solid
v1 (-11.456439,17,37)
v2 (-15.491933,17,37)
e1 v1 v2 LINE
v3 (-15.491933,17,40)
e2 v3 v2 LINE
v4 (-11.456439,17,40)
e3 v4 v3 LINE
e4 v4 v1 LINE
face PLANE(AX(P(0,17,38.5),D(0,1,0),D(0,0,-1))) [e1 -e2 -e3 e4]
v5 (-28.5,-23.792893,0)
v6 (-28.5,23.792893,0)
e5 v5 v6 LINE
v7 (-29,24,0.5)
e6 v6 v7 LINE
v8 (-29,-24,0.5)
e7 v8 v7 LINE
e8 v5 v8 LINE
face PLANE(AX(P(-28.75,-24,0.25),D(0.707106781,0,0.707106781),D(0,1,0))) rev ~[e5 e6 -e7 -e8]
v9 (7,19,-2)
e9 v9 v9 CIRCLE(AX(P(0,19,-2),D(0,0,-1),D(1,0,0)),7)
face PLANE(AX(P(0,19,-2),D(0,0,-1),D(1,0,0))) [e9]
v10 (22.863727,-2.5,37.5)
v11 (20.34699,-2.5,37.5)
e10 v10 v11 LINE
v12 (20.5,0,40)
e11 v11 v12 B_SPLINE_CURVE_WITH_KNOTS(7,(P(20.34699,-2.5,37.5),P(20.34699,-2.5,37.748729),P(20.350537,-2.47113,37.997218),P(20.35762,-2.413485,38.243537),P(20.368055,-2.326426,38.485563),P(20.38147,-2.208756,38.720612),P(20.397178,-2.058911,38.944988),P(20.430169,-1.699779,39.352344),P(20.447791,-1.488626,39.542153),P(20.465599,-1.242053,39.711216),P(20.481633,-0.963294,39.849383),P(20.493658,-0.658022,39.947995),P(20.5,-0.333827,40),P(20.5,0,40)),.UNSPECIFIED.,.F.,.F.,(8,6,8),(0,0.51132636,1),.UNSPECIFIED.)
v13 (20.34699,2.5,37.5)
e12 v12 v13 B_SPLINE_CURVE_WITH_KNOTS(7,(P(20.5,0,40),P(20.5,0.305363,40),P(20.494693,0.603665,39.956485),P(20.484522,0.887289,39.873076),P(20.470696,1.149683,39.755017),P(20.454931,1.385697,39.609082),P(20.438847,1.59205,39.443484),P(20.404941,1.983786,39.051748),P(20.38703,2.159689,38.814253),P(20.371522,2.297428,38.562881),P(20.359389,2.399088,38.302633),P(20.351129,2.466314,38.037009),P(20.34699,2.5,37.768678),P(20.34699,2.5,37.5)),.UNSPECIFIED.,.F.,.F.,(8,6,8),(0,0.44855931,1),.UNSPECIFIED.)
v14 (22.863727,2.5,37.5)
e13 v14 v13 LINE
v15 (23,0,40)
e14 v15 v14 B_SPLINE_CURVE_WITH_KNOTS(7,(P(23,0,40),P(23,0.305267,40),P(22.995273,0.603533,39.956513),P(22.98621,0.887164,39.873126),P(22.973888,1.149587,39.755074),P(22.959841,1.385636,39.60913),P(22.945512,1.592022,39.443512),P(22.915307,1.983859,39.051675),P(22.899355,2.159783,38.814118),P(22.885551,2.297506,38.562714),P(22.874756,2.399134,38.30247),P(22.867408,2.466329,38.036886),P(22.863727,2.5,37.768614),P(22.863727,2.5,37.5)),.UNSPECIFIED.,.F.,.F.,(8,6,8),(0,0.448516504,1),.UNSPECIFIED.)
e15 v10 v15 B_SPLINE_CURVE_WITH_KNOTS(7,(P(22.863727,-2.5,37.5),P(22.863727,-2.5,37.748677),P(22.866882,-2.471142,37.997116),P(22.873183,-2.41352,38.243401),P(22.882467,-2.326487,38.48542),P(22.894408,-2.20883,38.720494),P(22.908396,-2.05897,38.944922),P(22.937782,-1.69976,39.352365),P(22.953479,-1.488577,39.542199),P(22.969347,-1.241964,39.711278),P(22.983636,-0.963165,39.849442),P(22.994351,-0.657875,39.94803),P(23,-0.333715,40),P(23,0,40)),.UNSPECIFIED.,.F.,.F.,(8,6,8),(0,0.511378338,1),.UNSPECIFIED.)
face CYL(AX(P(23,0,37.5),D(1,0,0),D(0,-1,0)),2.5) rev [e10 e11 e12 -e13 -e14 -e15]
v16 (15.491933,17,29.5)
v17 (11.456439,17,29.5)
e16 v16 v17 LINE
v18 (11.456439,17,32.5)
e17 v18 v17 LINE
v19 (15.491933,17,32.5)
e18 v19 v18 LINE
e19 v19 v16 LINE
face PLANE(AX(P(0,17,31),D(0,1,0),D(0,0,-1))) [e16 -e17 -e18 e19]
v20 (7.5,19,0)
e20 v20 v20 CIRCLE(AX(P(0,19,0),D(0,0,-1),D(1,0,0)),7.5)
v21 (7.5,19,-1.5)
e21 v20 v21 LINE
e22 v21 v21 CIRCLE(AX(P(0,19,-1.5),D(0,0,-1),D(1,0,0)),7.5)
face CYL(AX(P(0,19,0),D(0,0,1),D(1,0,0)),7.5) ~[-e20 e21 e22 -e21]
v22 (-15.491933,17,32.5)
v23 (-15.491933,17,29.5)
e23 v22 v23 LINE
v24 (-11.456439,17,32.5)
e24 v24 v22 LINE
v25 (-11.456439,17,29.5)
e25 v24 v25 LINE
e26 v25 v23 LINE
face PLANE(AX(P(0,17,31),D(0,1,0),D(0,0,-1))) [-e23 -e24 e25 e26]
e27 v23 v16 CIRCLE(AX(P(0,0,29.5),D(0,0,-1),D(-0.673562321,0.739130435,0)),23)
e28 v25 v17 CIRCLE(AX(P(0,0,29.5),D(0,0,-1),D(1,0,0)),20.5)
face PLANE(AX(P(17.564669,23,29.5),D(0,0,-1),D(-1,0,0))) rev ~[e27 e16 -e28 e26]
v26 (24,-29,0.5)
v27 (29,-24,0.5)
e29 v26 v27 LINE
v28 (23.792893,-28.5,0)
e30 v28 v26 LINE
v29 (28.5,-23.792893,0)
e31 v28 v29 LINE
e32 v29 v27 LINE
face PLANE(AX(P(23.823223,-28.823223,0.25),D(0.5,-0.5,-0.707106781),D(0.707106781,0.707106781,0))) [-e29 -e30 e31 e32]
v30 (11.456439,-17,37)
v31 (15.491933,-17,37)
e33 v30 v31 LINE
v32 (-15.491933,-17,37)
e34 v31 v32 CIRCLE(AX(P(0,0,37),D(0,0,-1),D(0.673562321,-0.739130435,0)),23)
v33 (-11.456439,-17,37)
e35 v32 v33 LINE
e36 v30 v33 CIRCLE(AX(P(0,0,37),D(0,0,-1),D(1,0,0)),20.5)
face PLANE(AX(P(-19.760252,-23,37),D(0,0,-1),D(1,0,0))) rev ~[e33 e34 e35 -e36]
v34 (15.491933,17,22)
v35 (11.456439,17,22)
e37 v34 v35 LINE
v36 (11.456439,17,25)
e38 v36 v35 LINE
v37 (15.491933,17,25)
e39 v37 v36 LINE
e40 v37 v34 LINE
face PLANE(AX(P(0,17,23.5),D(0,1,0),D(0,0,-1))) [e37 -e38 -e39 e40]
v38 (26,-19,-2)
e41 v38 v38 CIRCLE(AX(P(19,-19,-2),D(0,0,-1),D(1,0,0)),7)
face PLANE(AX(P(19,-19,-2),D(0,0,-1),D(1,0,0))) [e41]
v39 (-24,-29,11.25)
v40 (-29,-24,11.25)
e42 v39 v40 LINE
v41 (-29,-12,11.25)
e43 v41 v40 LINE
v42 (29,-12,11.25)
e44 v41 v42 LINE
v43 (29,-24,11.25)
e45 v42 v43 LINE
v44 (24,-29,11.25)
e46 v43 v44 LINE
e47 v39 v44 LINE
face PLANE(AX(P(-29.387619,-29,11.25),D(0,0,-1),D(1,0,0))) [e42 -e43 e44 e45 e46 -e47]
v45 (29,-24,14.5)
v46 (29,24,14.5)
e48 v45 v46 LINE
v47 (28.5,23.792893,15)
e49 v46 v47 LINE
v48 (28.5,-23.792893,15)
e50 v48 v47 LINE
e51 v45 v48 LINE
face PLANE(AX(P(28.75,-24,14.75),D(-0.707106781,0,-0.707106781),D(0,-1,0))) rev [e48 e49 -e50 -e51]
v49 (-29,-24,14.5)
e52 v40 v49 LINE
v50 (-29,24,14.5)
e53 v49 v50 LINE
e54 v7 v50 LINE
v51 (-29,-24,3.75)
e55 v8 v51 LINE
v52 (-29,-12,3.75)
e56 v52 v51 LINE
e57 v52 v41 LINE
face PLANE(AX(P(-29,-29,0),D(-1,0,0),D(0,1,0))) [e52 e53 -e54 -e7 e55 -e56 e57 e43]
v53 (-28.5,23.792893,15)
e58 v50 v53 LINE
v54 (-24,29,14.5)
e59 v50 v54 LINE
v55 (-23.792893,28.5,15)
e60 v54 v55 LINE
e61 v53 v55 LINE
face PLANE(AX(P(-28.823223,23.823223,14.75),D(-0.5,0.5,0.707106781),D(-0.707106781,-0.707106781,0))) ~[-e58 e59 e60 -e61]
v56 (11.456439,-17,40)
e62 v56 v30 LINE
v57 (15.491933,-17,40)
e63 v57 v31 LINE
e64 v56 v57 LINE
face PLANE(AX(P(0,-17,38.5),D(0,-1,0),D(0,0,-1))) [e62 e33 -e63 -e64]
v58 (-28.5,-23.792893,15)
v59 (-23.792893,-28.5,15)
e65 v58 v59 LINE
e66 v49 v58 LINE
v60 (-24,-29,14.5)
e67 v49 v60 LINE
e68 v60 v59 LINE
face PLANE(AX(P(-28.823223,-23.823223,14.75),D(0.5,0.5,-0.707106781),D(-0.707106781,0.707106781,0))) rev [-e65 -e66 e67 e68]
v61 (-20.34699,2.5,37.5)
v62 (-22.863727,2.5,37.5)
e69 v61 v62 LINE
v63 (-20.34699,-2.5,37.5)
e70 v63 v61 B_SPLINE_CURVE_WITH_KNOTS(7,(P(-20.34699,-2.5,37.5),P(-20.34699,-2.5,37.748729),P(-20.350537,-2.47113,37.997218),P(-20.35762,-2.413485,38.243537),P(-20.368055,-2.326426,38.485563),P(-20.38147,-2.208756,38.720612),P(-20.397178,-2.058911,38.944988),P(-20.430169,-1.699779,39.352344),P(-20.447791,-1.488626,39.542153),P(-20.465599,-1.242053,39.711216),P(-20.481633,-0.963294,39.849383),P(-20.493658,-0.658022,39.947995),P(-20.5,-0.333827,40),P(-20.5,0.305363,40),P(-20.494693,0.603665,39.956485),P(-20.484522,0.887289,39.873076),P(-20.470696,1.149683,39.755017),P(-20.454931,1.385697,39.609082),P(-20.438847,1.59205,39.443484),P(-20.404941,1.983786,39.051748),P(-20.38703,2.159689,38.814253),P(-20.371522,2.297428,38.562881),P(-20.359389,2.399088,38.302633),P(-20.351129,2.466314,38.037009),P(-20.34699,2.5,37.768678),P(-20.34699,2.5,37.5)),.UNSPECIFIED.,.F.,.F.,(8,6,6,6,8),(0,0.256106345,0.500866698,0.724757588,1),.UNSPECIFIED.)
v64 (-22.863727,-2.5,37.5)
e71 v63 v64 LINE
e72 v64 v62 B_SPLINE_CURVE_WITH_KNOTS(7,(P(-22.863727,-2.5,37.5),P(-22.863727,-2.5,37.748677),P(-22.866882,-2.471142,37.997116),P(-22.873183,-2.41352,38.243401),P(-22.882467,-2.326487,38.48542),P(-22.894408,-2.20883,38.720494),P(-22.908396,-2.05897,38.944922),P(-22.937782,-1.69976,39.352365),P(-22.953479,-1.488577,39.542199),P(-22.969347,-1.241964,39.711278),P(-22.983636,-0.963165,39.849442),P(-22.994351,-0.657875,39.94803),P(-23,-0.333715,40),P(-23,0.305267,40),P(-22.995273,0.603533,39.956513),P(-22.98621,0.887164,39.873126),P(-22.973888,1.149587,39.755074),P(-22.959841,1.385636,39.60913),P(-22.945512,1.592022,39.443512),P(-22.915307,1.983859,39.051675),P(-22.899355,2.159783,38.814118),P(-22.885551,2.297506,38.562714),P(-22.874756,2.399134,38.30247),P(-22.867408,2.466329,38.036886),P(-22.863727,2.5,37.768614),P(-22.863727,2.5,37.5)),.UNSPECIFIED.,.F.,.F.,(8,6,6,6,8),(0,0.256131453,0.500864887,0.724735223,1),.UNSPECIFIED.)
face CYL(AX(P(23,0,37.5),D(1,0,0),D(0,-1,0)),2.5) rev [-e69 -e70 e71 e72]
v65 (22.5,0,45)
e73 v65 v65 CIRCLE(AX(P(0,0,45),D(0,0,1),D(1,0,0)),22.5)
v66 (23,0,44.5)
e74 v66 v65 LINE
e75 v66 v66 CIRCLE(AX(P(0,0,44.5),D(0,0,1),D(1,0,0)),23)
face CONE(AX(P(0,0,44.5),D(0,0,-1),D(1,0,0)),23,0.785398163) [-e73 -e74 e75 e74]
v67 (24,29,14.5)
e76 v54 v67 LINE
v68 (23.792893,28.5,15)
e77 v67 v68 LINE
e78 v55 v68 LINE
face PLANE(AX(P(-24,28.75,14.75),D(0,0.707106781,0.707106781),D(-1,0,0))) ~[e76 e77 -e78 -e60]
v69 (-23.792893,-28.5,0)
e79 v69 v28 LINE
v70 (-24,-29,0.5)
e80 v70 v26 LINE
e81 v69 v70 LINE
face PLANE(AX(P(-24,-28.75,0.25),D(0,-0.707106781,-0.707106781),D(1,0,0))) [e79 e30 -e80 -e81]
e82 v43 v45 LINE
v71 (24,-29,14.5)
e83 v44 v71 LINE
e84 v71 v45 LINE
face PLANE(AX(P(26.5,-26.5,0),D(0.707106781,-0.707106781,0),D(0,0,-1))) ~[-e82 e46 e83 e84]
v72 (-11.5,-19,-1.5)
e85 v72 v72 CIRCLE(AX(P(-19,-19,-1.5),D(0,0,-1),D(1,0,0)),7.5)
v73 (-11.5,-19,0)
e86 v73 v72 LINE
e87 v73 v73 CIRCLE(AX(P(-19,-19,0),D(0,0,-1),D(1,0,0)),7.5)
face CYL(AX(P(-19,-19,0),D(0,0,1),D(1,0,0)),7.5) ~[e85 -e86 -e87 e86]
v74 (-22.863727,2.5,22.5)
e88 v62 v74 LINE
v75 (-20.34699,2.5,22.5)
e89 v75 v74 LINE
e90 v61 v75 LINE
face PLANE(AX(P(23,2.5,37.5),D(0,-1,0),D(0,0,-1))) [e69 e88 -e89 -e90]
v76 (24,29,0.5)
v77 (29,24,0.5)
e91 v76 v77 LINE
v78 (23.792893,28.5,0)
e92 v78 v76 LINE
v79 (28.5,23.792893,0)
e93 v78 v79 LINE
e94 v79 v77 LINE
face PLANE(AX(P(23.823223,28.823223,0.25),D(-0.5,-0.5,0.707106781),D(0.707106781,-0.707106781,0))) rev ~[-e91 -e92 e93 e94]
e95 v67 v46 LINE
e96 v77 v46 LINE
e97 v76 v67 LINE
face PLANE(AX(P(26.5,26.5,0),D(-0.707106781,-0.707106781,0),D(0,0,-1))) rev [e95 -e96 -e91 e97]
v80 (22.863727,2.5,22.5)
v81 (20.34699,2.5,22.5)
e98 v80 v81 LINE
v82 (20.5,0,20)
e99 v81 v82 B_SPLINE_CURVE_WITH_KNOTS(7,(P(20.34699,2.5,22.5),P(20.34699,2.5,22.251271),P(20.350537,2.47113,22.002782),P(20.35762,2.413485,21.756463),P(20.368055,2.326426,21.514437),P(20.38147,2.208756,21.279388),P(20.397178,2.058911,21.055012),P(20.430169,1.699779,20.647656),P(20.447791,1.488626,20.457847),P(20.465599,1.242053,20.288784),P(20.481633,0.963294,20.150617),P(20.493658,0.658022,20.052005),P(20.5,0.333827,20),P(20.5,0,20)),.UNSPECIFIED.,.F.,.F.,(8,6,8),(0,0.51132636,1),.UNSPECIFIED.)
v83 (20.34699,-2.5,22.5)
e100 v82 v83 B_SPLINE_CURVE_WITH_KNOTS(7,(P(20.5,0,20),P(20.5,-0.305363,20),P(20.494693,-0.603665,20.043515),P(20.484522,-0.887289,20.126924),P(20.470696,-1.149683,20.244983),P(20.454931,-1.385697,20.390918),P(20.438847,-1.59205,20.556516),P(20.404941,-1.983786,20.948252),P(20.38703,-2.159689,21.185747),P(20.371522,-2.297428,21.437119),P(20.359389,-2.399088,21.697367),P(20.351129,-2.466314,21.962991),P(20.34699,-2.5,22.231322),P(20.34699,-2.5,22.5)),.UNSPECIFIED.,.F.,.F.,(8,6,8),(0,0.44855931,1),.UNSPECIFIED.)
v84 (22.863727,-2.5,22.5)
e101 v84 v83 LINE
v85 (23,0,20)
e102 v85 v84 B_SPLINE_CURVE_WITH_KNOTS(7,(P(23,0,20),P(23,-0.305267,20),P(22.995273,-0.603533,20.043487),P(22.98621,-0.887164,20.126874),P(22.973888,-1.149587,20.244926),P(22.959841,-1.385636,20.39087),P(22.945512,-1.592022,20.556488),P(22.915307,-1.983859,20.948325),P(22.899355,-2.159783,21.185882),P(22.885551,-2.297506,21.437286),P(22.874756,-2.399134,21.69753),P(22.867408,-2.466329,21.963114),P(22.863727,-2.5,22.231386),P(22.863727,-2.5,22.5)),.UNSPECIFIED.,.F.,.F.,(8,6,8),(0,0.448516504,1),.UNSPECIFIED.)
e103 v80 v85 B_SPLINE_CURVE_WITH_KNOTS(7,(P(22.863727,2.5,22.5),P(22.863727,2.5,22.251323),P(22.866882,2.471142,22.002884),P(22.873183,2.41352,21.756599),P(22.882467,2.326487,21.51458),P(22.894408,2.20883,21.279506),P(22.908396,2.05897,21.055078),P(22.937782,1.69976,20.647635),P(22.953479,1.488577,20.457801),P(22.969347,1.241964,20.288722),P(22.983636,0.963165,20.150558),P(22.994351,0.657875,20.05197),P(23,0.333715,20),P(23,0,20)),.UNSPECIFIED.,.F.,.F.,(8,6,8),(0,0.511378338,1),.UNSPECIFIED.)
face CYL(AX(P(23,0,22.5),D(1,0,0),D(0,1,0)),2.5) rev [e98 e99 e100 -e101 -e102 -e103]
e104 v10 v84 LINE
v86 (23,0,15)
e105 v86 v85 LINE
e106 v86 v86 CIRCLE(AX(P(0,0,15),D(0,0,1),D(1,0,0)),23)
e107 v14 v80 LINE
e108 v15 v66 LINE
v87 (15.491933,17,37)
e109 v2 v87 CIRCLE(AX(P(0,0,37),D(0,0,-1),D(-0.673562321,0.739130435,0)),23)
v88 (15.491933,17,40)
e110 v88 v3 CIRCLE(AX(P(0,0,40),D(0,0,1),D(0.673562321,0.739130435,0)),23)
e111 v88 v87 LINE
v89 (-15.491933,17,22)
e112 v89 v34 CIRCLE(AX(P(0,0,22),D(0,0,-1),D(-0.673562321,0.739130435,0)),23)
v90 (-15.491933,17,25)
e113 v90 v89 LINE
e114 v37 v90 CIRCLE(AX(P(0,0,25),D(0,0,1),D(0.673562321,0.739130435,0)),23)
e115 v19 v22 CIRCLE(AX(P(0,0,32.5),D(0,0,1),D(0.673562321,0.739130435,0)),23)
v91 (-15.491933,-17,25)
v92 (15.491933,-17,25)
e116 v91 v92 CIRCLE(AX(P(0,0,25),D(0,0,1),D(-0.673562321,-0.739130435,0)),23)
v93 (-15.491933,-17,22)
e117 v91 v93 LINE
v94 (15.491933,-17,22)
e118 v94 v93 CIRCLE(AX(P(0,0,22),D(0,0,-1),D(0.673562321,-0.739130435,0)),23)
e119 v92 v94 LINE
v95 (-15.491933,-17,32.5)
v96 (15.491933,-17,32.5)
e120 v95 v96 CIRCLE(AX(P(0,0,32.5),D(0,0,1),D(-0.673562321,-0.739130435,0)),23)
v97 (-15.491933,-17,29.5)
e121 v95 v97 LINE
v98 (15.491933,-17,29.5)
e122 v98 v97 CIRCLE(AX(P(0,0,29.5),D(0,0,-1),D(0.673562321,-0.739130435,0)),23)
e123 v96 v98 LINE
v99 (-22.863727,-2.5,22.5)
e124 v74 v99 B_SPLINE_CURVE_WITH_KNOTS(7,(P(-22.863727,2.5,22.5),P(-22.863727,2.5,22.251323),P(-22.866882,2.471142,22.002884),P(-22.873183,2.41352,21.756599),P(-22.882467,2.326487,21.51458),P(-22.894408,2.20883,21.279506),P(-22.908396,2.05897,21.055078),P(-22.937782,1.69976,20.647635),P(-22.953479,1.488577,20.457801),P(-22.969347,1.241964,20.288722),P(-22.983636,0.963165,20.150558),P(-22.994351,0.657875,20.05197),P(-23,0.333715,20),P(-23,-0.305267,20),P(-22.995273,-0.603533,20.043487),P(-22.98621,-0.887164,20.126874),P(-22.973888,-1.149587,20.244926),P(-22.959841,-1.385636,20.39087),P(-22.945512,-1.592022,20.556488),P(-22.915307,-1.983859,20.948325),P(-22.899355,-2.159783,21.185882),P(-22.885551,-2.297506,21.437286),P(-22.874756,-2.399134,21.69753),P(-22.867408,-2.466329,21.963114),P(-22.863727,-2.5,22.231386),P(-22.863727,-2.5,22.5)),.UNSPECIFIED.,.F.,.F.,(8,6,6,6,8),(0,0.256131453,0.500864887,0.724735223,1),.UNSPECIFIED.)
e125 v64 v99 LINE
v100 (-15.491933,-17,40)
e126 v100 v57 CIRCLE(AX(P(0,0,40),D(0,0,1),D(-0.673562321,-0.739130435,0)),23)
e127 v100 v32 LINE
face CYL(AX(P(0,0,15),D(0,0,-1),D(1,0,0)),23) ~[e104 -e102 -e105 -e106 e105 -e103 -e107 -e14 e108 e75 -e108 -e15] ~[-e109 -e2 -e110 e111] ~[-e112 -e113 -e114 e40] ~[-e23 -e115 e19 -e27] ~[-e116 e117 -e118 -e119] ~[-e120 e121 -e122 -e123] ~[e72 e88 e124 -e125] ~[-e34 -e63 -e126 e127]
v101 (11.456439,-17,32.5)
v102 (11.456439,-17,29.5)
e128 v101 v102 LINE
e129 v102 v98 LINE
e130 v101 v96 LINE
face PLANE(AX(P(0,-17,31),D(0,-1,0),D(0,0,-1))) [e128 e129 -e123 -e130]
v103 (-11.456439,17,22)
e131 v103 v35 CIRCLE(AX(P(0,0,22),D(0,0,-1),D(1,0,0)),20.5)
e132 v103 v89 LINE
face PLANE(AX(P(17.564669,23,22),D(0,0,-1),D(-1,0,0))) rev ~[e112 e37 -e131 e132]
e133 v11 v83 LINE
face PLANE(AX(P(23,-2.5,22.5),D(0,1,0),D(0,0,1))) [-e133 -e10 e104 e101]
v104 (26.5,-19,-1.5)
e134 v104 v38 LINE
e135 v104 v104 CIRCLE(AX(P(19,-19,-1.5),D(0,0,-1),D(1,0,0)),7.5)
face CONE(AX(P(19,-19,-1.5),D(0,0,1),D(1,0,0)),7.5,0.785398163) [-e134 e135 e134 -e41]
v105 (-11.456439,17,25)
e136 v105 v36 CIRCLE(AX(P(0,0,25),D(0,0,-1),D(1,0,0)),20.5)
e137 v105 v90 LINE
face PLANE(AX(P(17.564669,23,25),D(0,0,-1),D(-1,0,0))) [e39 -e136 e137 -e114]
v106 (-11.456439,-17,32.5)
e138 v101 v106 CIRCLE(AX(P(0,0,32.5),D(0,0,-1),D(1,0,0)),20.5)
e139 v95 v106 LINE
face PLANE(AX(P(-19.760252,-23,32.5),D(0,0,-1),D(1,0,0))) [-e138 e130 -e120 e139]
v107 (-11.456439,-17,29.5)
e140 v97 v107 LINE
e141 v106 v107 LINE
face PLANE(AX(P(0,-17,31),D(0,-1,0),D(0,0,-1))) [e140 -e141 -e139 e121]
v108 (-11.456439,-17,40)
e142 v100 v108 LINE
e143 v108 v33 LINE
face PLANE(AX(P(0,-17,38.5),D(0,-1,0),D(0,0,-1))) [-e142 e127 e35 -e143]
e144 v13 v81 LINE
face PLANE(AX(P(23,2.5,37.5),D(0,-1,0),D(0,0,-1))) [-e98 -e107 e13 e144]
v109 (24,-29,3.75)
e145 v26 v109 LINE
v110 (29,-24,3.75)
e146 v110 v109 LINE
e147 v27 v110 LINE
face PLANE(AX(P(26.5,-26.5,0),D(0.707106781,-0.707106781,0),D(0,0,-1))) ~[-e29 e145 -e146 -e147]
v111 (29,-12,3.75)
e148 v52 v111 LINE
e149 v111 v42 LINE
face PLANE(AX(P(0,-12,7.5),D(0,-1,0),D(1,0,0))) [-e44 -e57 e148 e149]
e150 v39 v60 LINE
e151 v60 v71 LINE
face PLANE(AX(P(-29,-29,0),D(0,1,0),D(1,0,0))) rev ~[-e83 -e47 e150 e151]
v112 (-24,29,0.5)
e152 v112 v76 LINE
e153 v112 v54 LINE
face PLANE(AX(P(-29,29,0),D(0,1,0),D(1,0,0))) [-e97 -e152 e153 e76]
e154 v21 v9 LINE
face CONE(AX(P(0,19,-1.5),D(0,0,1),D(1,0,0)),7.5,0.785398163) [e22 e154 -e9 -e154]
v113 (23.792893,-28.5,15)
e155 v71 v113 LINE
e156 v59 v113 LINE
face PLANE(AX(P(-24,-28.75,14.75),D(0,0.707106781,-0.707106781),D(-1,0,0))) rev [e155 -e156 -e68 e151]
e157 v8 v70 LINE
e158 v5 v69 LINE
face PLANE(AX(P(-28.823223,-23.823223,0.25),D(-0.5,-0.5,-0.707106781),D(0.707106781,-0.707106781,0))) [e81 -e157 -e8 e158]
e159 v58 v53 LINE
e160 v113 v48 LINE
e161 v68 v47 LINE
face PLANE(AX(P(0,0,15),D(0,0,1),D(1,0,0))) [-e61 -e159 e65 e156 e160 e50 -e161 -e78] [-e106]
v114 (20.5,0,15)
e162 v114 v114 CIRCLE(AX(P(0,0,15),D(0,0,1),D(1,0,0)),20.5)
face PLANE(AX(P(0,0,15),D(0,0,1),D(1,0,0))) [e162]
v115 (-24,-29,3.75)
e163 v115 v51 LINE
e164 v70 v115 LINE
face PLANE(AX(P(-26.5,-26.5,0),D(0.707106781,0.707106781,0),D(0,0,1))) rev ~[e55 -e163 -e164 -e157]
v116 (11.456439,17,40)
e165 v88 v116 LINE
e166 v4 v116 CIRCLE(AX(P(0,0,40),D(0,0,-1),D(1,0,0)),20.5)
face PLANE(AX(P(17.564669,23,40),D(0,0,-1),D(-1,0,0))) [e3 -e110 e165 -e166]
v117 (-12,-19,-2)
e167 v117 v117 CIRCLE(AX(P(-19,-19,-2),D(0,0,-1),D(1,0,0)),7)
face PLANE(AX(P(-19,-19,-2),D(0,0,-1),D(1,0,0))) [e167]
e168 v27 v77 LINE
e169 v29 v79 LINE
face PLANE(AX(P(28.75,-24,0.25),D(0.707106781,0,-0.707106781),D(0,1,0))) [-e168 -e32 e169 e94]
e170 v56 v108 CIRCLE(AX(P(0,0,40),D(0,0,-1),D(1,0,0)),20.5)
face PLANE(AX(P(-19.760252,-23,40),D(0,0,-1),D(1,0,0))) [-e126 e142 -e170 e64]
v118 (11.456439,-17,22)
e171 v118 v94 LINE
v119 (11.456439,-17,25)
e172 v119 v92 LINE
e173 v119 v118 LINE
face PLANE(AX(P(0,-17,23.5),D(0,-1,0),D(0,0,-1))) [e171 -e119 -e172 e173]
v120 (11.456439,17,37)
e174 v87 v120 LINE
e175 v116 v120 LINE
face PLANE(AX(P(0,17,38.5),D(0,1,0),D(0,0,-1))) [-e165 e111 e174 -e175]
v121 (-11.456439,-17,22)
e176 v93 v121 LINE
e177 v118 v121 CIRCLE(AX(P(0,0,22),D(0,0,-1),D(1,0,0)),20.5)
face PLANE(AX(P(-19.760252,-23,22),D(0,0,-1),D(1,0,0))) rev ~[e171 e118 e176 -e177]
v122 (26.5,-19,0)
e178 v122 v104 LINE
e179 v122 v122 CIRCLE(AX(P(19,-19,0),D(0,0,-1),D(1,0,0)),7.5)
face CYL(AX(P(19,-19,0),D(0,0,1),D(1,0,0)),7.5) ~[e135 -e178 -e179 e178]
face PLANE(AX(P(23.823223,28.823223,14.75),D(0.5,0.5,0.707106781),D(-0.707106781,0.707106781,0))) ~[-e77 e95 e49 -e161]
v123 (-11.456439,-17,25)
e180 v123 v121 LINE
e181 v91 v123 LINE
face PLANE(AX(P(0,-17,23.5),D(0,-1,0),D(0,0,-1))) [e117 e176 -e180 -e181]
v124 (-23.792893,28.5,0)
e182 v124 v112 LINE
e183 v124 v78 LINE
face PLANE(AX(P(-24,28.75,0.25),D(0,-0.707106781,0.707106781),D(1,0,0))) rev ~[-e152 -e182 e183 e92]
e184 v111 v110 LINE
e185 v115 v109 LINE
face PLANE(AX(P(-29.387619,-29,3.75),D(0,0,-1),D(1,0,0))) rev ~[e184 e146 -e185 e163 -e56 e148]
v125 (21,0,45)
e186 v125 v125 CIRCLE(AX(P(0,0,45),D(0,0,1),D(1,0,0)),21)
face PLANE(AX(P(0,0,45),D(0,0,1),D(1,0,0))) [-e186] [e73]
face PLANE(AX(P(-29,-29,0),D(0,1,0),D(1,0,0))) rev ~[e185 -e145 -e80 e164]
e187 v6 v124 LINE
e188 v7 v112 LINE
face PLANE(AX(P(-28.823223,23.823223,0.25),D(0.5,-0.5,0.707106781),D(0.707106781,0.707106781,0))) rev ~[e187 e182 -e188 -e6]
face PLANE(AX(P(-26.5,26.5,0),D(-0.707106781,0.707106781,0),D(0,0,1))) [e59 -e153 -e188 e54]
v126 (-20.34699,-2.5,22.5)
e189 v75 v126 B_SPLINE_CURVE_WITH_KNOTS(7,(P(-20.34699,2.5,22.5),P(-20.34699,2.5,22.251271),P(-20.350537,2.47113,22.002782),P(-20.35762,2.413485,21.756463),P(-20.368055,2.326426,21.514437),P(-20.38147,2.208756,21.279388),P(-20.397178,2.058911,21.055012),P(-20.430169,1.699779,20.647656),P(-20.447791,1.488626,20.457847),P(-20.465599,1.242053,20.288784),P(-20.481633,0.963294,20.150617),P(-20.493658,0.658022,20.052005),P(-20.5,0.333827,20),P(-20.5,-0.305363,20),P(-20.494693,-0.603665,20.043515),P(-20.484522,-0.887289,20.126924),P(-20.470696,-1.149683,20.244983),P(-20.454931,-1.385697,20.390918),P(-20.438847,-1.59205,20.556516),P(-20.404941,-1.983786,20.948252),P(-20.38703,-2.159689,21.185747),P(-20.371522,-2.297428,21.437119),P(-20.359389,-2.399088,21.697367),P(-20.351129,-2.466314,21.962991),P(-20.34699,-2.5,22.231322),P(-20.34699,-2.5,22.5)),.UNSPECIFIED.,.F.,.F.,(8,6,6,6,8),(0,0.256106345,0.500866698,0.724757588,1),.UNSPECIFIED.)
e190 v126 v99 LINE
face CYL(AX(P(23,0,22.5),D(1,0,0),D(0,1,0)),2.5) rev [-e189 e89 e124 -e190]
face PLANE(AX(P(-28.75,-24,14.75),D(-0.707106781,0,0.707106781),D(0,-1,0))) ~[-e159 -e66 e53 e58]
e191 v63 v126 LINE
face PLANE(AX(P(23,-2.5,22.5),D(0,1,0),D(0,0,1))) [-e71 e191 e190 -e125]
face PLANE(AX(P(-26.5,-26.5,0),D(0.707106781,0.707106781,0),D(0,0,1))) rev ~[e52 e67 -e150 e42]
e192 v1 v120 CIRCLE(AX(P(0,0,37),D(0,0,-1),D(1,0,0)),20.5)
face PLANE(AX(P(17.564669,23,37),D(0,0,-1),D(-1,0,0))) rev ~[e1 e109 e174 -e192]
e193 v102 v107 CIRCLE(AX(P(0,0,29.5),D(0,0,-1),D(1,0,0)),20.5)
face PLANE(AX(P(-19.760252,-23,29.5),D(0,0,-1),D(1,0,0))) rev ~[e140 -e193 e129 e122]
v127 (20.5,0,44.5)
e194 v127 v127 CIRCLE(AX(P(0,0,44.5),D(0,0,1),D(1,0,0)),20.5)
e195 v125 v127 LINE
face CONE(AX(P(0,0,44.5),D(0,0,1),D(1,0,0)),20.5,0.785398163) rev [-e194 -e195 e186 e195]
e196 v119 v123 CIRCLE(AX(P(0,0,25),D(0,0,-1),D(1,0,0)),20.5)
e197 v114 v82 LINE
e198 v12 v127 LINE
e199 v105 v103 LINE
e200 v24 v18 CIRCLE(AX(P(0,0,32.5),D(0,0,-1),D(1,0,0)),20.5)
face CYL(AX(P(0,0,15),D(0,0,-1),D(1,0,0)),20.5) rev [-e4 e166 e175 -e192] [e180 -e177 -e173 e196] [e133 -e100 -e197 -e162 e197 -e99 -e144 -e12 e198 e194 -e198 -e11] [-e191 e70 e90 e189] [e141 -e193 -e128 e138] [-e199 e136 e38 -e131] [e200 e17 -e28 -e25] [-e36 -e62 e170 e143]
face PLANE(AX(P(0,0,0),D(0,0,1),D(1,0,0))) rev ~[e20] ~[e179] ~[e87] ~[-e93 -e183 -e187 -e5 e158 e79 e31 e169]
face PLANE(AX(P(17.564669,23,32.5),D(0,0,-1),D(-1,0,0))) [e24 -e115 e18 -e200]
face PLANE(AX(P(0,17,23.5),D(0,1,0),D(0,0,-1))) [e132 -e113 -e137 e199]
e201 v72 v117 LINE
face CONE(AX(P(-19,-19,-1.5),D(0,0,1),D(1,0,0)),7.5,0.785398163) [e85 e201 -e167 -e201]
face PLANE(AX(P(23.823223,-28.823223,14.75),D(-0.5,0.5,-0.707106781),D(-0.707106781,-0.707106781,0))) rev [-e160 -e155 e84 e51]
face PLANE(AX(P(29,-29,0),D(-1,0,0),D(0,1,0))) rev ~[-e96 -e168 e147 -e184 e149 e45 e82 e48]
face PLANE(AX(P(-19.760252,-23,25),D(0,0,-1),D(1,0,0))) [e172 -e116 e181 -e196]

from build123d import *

# Parameters (mm, degrees)
SKIZZE3_W                       = 58
SKIZZE3_H                       = 58
AUFSATZ_LINEAR_AUSTRAGEN1_DEPTH = 15
SKIZZE4_R                       = 7.5
AUFSATZ_LINEAR_AUSTRAGEN2_DEPTH = 2
FASE1_SIZE                      = 5
SKIZZE5_R                       = 23
SKIZZE5_R_2                     = 20.5
AUFSATZ_LINEAR_AUSTRAGEN3_DEPTH = 30
SKIZZE6_W                       = 3
SKIZZE6_H                       = 39.520504732
SCHNITT_LINEAR_AUSTRAGEN1_DEPTH = 6
SKIZZE7_W                       = 3
SKIZZE7_H                       = 35.12933754
SCHNITT_LINEAR_AUSTRAGEN2_DEPTH = 6
SCHNITT_LINEAR_AUSTRAGEN3_DEPTH = 53
FASE2_SIZE                      = 0.5
FASE3_SIZE                      = 0.5
SKIZZE10_W                      = 58.775237502
SKIZZE10_H                      = 7.5
SCHNITT_LINEAR_AUSTRAGEN5_DEPTH = 17


with BuildPart() as part:
    # Skizze3 → Aufsatz-Linear austragen1 (new body)
    with BuildSketch(Plane.XY):
        Rectangle(SKIZZE3_W, SKIZZE3_H)
    extrude(amount=AUFSATZ_LINEAR_AUSTRAGEN1_DEPTH)

    # Skizze4 → Aufsatz-Linear austragen2 (add)
    with BuildSketch(Plane(origin=(0, 0, 0), x_dir=(-1, 0, 0), z_dir=(0, 0, -1))):
        with Locations(Location((0, 19, 0), (0, 0, 180))):  # turned: the seam where the file's is
            Circle(SKIZZE4_R)
        with Locations(Location((19, -19, 0), (0, 0, 180))):  # turned: the seam where the file's is
            Circle(SKIZZE4_R)
        with Locations(Location((-19, -19, 0), (0, 0, 180))):  # turned: the seam where the file's is
            Circle(SKIZZE4_R)
    extrude(amount=AUFSATZ_LINEAR_AUSTRAGEN2_DEPTH)

    # Fase1
    fase1_edges = [part.edges().sort_by_distance(p)[0] for p in [
        (29, -29, 7.5),
        (-29, -29, 7.5),
        (-29, 29, 7.5),
        (29, 29, 7.5),
    ]]
    chamfer(fase1_edges, length=FASE1_SIZE)

    # Skizze5 → Aufsatz-Linear austragen3 (add)
    with BuildSketch(Plane.XY.offset(15)):
        Circle(SKIZZE5_R)
        Circle(SKIZZE5_R_2, mode=Mode.SUBTRACT)
    extrude(amount=AUFSATZ_LINEAR_AUSTRAGEN3_DEPTH)

    # Skizze6 → Schnitt-Linear austragen1 (cut)
    with BuildSketch(Plane(origin=(0, -23, 0), x_dir=(0, 0, -1), z_dir=(0, -1, 0))):
        with Locations((-23.5, 0)):
            Rectangle(SKIZZE6_W, SKIZZE6_H)
        with Locations((-31, 0)):
            Rectangle(SKIZZE6_W, SKIZZE6_H)
        with Locations((-38.5, 0)):
            Rectangle(SKIZZE6_W, SKIZZE6_H)
    extrude(amount=-SCHNITT_LINEAR_AUSTRAGEN1_DEPTH, mode=Mode.SUBTRACT)

    # Skizze7 → Schnitt-Linear austragen2 (cut)
    with BuildSketch(Plane(origin=(0, 23, 0), x_dir=(0, 0, -1), z_dir=(0, 1, 0))):
        with Locations((-23.5, 0)):
            Rectangle(SKIZZE7_W, SKIZZE7_H)
        with Locations((-31, 0)):
            Rectangle(SKIZZE7_W, SKIZZE7_H)
        with Locations((-38.5, 0)):
            Rectangle(SKIZZE7_W, SKIZZE7_H)
    extrude(amount=-SCHNITT_LINEAR_AUSTRAGEN2_DEPTH, mode=Mode.SUBTRACT)

    # Skizze8 → Schnitt-Linear austragen3 (cut, through all)
    with BuildSketch(Plane(origin=(23, 0, 0), x_dir=(0, 0, -1), z_dir=(1, 0, 0))):
        with BuildLine():
            Line((-37.5, 2.5), (-22.5, 2.5))
            ThreePointArc((-22.5, 2.5), (-20, 0), (-22.5, -2.5))
            Line((-22.5, -2.5), (-37.5, -2.5))
            ThreePointArc((-37.5, -2.5), (-40, 0), (-37.5, 2.5))
        make_face()
    extrude(amount=-SCHNITT_LINEAR_AUSTRAGEN3_DEPTH, mode=Mode.SUBTRACT)

    # Fase2
    fase2_edges = [part.edges().sort_by_distance(p)[0] for p in [
        (-7.5, 19, -2),
        (-26.5, -19, -2),
        (11.5, -19, -2),
        (-23, 0, 45),
        (-20.5, 0, 45),
    ]]
    chamfer(fase2_edges, length=FASE2_SIZE)

    # Fase3
    fase3_edges = [part.edges().sort_by_distance(p)[0] for p in [
        (0, -29, 0),
        (0, -29, 15),
        (29, 0, 0),
        (-29, 0, 0),
        (0, 29, 0),
        (-26.5, 26.5, 0),
        (26.5, 26.5, 0),
        (26.5, -26.5, 0),
        (-26.5, -26.5, 0),
        (-29, 0, 15),
        (29, 0, 15),
        (0, 29, 15),
        (-26.5, 26.5, 15),
        (26.5, 26.5, 15),
        (26.5, -26.5, 15),
        (-26.5, -26.5, 15),
    ]]
    chamfer(fase3_edges, length=FASE3_SIZE)

    # Skizze10 → Schnitt-Linear austragen5 (cut)
    with BuildSketch(Plane.XZ.offset(29)):
        with Locations((0, 7.5)):
            Rectangle(SKIZZE10_W, SKIZZE10_H)
    extrude(amount=-SCHNITT_LINEAR_AUSTRAGEN5_DEPTH, mode=Mode.SUBTRACT)


solid = part.part
